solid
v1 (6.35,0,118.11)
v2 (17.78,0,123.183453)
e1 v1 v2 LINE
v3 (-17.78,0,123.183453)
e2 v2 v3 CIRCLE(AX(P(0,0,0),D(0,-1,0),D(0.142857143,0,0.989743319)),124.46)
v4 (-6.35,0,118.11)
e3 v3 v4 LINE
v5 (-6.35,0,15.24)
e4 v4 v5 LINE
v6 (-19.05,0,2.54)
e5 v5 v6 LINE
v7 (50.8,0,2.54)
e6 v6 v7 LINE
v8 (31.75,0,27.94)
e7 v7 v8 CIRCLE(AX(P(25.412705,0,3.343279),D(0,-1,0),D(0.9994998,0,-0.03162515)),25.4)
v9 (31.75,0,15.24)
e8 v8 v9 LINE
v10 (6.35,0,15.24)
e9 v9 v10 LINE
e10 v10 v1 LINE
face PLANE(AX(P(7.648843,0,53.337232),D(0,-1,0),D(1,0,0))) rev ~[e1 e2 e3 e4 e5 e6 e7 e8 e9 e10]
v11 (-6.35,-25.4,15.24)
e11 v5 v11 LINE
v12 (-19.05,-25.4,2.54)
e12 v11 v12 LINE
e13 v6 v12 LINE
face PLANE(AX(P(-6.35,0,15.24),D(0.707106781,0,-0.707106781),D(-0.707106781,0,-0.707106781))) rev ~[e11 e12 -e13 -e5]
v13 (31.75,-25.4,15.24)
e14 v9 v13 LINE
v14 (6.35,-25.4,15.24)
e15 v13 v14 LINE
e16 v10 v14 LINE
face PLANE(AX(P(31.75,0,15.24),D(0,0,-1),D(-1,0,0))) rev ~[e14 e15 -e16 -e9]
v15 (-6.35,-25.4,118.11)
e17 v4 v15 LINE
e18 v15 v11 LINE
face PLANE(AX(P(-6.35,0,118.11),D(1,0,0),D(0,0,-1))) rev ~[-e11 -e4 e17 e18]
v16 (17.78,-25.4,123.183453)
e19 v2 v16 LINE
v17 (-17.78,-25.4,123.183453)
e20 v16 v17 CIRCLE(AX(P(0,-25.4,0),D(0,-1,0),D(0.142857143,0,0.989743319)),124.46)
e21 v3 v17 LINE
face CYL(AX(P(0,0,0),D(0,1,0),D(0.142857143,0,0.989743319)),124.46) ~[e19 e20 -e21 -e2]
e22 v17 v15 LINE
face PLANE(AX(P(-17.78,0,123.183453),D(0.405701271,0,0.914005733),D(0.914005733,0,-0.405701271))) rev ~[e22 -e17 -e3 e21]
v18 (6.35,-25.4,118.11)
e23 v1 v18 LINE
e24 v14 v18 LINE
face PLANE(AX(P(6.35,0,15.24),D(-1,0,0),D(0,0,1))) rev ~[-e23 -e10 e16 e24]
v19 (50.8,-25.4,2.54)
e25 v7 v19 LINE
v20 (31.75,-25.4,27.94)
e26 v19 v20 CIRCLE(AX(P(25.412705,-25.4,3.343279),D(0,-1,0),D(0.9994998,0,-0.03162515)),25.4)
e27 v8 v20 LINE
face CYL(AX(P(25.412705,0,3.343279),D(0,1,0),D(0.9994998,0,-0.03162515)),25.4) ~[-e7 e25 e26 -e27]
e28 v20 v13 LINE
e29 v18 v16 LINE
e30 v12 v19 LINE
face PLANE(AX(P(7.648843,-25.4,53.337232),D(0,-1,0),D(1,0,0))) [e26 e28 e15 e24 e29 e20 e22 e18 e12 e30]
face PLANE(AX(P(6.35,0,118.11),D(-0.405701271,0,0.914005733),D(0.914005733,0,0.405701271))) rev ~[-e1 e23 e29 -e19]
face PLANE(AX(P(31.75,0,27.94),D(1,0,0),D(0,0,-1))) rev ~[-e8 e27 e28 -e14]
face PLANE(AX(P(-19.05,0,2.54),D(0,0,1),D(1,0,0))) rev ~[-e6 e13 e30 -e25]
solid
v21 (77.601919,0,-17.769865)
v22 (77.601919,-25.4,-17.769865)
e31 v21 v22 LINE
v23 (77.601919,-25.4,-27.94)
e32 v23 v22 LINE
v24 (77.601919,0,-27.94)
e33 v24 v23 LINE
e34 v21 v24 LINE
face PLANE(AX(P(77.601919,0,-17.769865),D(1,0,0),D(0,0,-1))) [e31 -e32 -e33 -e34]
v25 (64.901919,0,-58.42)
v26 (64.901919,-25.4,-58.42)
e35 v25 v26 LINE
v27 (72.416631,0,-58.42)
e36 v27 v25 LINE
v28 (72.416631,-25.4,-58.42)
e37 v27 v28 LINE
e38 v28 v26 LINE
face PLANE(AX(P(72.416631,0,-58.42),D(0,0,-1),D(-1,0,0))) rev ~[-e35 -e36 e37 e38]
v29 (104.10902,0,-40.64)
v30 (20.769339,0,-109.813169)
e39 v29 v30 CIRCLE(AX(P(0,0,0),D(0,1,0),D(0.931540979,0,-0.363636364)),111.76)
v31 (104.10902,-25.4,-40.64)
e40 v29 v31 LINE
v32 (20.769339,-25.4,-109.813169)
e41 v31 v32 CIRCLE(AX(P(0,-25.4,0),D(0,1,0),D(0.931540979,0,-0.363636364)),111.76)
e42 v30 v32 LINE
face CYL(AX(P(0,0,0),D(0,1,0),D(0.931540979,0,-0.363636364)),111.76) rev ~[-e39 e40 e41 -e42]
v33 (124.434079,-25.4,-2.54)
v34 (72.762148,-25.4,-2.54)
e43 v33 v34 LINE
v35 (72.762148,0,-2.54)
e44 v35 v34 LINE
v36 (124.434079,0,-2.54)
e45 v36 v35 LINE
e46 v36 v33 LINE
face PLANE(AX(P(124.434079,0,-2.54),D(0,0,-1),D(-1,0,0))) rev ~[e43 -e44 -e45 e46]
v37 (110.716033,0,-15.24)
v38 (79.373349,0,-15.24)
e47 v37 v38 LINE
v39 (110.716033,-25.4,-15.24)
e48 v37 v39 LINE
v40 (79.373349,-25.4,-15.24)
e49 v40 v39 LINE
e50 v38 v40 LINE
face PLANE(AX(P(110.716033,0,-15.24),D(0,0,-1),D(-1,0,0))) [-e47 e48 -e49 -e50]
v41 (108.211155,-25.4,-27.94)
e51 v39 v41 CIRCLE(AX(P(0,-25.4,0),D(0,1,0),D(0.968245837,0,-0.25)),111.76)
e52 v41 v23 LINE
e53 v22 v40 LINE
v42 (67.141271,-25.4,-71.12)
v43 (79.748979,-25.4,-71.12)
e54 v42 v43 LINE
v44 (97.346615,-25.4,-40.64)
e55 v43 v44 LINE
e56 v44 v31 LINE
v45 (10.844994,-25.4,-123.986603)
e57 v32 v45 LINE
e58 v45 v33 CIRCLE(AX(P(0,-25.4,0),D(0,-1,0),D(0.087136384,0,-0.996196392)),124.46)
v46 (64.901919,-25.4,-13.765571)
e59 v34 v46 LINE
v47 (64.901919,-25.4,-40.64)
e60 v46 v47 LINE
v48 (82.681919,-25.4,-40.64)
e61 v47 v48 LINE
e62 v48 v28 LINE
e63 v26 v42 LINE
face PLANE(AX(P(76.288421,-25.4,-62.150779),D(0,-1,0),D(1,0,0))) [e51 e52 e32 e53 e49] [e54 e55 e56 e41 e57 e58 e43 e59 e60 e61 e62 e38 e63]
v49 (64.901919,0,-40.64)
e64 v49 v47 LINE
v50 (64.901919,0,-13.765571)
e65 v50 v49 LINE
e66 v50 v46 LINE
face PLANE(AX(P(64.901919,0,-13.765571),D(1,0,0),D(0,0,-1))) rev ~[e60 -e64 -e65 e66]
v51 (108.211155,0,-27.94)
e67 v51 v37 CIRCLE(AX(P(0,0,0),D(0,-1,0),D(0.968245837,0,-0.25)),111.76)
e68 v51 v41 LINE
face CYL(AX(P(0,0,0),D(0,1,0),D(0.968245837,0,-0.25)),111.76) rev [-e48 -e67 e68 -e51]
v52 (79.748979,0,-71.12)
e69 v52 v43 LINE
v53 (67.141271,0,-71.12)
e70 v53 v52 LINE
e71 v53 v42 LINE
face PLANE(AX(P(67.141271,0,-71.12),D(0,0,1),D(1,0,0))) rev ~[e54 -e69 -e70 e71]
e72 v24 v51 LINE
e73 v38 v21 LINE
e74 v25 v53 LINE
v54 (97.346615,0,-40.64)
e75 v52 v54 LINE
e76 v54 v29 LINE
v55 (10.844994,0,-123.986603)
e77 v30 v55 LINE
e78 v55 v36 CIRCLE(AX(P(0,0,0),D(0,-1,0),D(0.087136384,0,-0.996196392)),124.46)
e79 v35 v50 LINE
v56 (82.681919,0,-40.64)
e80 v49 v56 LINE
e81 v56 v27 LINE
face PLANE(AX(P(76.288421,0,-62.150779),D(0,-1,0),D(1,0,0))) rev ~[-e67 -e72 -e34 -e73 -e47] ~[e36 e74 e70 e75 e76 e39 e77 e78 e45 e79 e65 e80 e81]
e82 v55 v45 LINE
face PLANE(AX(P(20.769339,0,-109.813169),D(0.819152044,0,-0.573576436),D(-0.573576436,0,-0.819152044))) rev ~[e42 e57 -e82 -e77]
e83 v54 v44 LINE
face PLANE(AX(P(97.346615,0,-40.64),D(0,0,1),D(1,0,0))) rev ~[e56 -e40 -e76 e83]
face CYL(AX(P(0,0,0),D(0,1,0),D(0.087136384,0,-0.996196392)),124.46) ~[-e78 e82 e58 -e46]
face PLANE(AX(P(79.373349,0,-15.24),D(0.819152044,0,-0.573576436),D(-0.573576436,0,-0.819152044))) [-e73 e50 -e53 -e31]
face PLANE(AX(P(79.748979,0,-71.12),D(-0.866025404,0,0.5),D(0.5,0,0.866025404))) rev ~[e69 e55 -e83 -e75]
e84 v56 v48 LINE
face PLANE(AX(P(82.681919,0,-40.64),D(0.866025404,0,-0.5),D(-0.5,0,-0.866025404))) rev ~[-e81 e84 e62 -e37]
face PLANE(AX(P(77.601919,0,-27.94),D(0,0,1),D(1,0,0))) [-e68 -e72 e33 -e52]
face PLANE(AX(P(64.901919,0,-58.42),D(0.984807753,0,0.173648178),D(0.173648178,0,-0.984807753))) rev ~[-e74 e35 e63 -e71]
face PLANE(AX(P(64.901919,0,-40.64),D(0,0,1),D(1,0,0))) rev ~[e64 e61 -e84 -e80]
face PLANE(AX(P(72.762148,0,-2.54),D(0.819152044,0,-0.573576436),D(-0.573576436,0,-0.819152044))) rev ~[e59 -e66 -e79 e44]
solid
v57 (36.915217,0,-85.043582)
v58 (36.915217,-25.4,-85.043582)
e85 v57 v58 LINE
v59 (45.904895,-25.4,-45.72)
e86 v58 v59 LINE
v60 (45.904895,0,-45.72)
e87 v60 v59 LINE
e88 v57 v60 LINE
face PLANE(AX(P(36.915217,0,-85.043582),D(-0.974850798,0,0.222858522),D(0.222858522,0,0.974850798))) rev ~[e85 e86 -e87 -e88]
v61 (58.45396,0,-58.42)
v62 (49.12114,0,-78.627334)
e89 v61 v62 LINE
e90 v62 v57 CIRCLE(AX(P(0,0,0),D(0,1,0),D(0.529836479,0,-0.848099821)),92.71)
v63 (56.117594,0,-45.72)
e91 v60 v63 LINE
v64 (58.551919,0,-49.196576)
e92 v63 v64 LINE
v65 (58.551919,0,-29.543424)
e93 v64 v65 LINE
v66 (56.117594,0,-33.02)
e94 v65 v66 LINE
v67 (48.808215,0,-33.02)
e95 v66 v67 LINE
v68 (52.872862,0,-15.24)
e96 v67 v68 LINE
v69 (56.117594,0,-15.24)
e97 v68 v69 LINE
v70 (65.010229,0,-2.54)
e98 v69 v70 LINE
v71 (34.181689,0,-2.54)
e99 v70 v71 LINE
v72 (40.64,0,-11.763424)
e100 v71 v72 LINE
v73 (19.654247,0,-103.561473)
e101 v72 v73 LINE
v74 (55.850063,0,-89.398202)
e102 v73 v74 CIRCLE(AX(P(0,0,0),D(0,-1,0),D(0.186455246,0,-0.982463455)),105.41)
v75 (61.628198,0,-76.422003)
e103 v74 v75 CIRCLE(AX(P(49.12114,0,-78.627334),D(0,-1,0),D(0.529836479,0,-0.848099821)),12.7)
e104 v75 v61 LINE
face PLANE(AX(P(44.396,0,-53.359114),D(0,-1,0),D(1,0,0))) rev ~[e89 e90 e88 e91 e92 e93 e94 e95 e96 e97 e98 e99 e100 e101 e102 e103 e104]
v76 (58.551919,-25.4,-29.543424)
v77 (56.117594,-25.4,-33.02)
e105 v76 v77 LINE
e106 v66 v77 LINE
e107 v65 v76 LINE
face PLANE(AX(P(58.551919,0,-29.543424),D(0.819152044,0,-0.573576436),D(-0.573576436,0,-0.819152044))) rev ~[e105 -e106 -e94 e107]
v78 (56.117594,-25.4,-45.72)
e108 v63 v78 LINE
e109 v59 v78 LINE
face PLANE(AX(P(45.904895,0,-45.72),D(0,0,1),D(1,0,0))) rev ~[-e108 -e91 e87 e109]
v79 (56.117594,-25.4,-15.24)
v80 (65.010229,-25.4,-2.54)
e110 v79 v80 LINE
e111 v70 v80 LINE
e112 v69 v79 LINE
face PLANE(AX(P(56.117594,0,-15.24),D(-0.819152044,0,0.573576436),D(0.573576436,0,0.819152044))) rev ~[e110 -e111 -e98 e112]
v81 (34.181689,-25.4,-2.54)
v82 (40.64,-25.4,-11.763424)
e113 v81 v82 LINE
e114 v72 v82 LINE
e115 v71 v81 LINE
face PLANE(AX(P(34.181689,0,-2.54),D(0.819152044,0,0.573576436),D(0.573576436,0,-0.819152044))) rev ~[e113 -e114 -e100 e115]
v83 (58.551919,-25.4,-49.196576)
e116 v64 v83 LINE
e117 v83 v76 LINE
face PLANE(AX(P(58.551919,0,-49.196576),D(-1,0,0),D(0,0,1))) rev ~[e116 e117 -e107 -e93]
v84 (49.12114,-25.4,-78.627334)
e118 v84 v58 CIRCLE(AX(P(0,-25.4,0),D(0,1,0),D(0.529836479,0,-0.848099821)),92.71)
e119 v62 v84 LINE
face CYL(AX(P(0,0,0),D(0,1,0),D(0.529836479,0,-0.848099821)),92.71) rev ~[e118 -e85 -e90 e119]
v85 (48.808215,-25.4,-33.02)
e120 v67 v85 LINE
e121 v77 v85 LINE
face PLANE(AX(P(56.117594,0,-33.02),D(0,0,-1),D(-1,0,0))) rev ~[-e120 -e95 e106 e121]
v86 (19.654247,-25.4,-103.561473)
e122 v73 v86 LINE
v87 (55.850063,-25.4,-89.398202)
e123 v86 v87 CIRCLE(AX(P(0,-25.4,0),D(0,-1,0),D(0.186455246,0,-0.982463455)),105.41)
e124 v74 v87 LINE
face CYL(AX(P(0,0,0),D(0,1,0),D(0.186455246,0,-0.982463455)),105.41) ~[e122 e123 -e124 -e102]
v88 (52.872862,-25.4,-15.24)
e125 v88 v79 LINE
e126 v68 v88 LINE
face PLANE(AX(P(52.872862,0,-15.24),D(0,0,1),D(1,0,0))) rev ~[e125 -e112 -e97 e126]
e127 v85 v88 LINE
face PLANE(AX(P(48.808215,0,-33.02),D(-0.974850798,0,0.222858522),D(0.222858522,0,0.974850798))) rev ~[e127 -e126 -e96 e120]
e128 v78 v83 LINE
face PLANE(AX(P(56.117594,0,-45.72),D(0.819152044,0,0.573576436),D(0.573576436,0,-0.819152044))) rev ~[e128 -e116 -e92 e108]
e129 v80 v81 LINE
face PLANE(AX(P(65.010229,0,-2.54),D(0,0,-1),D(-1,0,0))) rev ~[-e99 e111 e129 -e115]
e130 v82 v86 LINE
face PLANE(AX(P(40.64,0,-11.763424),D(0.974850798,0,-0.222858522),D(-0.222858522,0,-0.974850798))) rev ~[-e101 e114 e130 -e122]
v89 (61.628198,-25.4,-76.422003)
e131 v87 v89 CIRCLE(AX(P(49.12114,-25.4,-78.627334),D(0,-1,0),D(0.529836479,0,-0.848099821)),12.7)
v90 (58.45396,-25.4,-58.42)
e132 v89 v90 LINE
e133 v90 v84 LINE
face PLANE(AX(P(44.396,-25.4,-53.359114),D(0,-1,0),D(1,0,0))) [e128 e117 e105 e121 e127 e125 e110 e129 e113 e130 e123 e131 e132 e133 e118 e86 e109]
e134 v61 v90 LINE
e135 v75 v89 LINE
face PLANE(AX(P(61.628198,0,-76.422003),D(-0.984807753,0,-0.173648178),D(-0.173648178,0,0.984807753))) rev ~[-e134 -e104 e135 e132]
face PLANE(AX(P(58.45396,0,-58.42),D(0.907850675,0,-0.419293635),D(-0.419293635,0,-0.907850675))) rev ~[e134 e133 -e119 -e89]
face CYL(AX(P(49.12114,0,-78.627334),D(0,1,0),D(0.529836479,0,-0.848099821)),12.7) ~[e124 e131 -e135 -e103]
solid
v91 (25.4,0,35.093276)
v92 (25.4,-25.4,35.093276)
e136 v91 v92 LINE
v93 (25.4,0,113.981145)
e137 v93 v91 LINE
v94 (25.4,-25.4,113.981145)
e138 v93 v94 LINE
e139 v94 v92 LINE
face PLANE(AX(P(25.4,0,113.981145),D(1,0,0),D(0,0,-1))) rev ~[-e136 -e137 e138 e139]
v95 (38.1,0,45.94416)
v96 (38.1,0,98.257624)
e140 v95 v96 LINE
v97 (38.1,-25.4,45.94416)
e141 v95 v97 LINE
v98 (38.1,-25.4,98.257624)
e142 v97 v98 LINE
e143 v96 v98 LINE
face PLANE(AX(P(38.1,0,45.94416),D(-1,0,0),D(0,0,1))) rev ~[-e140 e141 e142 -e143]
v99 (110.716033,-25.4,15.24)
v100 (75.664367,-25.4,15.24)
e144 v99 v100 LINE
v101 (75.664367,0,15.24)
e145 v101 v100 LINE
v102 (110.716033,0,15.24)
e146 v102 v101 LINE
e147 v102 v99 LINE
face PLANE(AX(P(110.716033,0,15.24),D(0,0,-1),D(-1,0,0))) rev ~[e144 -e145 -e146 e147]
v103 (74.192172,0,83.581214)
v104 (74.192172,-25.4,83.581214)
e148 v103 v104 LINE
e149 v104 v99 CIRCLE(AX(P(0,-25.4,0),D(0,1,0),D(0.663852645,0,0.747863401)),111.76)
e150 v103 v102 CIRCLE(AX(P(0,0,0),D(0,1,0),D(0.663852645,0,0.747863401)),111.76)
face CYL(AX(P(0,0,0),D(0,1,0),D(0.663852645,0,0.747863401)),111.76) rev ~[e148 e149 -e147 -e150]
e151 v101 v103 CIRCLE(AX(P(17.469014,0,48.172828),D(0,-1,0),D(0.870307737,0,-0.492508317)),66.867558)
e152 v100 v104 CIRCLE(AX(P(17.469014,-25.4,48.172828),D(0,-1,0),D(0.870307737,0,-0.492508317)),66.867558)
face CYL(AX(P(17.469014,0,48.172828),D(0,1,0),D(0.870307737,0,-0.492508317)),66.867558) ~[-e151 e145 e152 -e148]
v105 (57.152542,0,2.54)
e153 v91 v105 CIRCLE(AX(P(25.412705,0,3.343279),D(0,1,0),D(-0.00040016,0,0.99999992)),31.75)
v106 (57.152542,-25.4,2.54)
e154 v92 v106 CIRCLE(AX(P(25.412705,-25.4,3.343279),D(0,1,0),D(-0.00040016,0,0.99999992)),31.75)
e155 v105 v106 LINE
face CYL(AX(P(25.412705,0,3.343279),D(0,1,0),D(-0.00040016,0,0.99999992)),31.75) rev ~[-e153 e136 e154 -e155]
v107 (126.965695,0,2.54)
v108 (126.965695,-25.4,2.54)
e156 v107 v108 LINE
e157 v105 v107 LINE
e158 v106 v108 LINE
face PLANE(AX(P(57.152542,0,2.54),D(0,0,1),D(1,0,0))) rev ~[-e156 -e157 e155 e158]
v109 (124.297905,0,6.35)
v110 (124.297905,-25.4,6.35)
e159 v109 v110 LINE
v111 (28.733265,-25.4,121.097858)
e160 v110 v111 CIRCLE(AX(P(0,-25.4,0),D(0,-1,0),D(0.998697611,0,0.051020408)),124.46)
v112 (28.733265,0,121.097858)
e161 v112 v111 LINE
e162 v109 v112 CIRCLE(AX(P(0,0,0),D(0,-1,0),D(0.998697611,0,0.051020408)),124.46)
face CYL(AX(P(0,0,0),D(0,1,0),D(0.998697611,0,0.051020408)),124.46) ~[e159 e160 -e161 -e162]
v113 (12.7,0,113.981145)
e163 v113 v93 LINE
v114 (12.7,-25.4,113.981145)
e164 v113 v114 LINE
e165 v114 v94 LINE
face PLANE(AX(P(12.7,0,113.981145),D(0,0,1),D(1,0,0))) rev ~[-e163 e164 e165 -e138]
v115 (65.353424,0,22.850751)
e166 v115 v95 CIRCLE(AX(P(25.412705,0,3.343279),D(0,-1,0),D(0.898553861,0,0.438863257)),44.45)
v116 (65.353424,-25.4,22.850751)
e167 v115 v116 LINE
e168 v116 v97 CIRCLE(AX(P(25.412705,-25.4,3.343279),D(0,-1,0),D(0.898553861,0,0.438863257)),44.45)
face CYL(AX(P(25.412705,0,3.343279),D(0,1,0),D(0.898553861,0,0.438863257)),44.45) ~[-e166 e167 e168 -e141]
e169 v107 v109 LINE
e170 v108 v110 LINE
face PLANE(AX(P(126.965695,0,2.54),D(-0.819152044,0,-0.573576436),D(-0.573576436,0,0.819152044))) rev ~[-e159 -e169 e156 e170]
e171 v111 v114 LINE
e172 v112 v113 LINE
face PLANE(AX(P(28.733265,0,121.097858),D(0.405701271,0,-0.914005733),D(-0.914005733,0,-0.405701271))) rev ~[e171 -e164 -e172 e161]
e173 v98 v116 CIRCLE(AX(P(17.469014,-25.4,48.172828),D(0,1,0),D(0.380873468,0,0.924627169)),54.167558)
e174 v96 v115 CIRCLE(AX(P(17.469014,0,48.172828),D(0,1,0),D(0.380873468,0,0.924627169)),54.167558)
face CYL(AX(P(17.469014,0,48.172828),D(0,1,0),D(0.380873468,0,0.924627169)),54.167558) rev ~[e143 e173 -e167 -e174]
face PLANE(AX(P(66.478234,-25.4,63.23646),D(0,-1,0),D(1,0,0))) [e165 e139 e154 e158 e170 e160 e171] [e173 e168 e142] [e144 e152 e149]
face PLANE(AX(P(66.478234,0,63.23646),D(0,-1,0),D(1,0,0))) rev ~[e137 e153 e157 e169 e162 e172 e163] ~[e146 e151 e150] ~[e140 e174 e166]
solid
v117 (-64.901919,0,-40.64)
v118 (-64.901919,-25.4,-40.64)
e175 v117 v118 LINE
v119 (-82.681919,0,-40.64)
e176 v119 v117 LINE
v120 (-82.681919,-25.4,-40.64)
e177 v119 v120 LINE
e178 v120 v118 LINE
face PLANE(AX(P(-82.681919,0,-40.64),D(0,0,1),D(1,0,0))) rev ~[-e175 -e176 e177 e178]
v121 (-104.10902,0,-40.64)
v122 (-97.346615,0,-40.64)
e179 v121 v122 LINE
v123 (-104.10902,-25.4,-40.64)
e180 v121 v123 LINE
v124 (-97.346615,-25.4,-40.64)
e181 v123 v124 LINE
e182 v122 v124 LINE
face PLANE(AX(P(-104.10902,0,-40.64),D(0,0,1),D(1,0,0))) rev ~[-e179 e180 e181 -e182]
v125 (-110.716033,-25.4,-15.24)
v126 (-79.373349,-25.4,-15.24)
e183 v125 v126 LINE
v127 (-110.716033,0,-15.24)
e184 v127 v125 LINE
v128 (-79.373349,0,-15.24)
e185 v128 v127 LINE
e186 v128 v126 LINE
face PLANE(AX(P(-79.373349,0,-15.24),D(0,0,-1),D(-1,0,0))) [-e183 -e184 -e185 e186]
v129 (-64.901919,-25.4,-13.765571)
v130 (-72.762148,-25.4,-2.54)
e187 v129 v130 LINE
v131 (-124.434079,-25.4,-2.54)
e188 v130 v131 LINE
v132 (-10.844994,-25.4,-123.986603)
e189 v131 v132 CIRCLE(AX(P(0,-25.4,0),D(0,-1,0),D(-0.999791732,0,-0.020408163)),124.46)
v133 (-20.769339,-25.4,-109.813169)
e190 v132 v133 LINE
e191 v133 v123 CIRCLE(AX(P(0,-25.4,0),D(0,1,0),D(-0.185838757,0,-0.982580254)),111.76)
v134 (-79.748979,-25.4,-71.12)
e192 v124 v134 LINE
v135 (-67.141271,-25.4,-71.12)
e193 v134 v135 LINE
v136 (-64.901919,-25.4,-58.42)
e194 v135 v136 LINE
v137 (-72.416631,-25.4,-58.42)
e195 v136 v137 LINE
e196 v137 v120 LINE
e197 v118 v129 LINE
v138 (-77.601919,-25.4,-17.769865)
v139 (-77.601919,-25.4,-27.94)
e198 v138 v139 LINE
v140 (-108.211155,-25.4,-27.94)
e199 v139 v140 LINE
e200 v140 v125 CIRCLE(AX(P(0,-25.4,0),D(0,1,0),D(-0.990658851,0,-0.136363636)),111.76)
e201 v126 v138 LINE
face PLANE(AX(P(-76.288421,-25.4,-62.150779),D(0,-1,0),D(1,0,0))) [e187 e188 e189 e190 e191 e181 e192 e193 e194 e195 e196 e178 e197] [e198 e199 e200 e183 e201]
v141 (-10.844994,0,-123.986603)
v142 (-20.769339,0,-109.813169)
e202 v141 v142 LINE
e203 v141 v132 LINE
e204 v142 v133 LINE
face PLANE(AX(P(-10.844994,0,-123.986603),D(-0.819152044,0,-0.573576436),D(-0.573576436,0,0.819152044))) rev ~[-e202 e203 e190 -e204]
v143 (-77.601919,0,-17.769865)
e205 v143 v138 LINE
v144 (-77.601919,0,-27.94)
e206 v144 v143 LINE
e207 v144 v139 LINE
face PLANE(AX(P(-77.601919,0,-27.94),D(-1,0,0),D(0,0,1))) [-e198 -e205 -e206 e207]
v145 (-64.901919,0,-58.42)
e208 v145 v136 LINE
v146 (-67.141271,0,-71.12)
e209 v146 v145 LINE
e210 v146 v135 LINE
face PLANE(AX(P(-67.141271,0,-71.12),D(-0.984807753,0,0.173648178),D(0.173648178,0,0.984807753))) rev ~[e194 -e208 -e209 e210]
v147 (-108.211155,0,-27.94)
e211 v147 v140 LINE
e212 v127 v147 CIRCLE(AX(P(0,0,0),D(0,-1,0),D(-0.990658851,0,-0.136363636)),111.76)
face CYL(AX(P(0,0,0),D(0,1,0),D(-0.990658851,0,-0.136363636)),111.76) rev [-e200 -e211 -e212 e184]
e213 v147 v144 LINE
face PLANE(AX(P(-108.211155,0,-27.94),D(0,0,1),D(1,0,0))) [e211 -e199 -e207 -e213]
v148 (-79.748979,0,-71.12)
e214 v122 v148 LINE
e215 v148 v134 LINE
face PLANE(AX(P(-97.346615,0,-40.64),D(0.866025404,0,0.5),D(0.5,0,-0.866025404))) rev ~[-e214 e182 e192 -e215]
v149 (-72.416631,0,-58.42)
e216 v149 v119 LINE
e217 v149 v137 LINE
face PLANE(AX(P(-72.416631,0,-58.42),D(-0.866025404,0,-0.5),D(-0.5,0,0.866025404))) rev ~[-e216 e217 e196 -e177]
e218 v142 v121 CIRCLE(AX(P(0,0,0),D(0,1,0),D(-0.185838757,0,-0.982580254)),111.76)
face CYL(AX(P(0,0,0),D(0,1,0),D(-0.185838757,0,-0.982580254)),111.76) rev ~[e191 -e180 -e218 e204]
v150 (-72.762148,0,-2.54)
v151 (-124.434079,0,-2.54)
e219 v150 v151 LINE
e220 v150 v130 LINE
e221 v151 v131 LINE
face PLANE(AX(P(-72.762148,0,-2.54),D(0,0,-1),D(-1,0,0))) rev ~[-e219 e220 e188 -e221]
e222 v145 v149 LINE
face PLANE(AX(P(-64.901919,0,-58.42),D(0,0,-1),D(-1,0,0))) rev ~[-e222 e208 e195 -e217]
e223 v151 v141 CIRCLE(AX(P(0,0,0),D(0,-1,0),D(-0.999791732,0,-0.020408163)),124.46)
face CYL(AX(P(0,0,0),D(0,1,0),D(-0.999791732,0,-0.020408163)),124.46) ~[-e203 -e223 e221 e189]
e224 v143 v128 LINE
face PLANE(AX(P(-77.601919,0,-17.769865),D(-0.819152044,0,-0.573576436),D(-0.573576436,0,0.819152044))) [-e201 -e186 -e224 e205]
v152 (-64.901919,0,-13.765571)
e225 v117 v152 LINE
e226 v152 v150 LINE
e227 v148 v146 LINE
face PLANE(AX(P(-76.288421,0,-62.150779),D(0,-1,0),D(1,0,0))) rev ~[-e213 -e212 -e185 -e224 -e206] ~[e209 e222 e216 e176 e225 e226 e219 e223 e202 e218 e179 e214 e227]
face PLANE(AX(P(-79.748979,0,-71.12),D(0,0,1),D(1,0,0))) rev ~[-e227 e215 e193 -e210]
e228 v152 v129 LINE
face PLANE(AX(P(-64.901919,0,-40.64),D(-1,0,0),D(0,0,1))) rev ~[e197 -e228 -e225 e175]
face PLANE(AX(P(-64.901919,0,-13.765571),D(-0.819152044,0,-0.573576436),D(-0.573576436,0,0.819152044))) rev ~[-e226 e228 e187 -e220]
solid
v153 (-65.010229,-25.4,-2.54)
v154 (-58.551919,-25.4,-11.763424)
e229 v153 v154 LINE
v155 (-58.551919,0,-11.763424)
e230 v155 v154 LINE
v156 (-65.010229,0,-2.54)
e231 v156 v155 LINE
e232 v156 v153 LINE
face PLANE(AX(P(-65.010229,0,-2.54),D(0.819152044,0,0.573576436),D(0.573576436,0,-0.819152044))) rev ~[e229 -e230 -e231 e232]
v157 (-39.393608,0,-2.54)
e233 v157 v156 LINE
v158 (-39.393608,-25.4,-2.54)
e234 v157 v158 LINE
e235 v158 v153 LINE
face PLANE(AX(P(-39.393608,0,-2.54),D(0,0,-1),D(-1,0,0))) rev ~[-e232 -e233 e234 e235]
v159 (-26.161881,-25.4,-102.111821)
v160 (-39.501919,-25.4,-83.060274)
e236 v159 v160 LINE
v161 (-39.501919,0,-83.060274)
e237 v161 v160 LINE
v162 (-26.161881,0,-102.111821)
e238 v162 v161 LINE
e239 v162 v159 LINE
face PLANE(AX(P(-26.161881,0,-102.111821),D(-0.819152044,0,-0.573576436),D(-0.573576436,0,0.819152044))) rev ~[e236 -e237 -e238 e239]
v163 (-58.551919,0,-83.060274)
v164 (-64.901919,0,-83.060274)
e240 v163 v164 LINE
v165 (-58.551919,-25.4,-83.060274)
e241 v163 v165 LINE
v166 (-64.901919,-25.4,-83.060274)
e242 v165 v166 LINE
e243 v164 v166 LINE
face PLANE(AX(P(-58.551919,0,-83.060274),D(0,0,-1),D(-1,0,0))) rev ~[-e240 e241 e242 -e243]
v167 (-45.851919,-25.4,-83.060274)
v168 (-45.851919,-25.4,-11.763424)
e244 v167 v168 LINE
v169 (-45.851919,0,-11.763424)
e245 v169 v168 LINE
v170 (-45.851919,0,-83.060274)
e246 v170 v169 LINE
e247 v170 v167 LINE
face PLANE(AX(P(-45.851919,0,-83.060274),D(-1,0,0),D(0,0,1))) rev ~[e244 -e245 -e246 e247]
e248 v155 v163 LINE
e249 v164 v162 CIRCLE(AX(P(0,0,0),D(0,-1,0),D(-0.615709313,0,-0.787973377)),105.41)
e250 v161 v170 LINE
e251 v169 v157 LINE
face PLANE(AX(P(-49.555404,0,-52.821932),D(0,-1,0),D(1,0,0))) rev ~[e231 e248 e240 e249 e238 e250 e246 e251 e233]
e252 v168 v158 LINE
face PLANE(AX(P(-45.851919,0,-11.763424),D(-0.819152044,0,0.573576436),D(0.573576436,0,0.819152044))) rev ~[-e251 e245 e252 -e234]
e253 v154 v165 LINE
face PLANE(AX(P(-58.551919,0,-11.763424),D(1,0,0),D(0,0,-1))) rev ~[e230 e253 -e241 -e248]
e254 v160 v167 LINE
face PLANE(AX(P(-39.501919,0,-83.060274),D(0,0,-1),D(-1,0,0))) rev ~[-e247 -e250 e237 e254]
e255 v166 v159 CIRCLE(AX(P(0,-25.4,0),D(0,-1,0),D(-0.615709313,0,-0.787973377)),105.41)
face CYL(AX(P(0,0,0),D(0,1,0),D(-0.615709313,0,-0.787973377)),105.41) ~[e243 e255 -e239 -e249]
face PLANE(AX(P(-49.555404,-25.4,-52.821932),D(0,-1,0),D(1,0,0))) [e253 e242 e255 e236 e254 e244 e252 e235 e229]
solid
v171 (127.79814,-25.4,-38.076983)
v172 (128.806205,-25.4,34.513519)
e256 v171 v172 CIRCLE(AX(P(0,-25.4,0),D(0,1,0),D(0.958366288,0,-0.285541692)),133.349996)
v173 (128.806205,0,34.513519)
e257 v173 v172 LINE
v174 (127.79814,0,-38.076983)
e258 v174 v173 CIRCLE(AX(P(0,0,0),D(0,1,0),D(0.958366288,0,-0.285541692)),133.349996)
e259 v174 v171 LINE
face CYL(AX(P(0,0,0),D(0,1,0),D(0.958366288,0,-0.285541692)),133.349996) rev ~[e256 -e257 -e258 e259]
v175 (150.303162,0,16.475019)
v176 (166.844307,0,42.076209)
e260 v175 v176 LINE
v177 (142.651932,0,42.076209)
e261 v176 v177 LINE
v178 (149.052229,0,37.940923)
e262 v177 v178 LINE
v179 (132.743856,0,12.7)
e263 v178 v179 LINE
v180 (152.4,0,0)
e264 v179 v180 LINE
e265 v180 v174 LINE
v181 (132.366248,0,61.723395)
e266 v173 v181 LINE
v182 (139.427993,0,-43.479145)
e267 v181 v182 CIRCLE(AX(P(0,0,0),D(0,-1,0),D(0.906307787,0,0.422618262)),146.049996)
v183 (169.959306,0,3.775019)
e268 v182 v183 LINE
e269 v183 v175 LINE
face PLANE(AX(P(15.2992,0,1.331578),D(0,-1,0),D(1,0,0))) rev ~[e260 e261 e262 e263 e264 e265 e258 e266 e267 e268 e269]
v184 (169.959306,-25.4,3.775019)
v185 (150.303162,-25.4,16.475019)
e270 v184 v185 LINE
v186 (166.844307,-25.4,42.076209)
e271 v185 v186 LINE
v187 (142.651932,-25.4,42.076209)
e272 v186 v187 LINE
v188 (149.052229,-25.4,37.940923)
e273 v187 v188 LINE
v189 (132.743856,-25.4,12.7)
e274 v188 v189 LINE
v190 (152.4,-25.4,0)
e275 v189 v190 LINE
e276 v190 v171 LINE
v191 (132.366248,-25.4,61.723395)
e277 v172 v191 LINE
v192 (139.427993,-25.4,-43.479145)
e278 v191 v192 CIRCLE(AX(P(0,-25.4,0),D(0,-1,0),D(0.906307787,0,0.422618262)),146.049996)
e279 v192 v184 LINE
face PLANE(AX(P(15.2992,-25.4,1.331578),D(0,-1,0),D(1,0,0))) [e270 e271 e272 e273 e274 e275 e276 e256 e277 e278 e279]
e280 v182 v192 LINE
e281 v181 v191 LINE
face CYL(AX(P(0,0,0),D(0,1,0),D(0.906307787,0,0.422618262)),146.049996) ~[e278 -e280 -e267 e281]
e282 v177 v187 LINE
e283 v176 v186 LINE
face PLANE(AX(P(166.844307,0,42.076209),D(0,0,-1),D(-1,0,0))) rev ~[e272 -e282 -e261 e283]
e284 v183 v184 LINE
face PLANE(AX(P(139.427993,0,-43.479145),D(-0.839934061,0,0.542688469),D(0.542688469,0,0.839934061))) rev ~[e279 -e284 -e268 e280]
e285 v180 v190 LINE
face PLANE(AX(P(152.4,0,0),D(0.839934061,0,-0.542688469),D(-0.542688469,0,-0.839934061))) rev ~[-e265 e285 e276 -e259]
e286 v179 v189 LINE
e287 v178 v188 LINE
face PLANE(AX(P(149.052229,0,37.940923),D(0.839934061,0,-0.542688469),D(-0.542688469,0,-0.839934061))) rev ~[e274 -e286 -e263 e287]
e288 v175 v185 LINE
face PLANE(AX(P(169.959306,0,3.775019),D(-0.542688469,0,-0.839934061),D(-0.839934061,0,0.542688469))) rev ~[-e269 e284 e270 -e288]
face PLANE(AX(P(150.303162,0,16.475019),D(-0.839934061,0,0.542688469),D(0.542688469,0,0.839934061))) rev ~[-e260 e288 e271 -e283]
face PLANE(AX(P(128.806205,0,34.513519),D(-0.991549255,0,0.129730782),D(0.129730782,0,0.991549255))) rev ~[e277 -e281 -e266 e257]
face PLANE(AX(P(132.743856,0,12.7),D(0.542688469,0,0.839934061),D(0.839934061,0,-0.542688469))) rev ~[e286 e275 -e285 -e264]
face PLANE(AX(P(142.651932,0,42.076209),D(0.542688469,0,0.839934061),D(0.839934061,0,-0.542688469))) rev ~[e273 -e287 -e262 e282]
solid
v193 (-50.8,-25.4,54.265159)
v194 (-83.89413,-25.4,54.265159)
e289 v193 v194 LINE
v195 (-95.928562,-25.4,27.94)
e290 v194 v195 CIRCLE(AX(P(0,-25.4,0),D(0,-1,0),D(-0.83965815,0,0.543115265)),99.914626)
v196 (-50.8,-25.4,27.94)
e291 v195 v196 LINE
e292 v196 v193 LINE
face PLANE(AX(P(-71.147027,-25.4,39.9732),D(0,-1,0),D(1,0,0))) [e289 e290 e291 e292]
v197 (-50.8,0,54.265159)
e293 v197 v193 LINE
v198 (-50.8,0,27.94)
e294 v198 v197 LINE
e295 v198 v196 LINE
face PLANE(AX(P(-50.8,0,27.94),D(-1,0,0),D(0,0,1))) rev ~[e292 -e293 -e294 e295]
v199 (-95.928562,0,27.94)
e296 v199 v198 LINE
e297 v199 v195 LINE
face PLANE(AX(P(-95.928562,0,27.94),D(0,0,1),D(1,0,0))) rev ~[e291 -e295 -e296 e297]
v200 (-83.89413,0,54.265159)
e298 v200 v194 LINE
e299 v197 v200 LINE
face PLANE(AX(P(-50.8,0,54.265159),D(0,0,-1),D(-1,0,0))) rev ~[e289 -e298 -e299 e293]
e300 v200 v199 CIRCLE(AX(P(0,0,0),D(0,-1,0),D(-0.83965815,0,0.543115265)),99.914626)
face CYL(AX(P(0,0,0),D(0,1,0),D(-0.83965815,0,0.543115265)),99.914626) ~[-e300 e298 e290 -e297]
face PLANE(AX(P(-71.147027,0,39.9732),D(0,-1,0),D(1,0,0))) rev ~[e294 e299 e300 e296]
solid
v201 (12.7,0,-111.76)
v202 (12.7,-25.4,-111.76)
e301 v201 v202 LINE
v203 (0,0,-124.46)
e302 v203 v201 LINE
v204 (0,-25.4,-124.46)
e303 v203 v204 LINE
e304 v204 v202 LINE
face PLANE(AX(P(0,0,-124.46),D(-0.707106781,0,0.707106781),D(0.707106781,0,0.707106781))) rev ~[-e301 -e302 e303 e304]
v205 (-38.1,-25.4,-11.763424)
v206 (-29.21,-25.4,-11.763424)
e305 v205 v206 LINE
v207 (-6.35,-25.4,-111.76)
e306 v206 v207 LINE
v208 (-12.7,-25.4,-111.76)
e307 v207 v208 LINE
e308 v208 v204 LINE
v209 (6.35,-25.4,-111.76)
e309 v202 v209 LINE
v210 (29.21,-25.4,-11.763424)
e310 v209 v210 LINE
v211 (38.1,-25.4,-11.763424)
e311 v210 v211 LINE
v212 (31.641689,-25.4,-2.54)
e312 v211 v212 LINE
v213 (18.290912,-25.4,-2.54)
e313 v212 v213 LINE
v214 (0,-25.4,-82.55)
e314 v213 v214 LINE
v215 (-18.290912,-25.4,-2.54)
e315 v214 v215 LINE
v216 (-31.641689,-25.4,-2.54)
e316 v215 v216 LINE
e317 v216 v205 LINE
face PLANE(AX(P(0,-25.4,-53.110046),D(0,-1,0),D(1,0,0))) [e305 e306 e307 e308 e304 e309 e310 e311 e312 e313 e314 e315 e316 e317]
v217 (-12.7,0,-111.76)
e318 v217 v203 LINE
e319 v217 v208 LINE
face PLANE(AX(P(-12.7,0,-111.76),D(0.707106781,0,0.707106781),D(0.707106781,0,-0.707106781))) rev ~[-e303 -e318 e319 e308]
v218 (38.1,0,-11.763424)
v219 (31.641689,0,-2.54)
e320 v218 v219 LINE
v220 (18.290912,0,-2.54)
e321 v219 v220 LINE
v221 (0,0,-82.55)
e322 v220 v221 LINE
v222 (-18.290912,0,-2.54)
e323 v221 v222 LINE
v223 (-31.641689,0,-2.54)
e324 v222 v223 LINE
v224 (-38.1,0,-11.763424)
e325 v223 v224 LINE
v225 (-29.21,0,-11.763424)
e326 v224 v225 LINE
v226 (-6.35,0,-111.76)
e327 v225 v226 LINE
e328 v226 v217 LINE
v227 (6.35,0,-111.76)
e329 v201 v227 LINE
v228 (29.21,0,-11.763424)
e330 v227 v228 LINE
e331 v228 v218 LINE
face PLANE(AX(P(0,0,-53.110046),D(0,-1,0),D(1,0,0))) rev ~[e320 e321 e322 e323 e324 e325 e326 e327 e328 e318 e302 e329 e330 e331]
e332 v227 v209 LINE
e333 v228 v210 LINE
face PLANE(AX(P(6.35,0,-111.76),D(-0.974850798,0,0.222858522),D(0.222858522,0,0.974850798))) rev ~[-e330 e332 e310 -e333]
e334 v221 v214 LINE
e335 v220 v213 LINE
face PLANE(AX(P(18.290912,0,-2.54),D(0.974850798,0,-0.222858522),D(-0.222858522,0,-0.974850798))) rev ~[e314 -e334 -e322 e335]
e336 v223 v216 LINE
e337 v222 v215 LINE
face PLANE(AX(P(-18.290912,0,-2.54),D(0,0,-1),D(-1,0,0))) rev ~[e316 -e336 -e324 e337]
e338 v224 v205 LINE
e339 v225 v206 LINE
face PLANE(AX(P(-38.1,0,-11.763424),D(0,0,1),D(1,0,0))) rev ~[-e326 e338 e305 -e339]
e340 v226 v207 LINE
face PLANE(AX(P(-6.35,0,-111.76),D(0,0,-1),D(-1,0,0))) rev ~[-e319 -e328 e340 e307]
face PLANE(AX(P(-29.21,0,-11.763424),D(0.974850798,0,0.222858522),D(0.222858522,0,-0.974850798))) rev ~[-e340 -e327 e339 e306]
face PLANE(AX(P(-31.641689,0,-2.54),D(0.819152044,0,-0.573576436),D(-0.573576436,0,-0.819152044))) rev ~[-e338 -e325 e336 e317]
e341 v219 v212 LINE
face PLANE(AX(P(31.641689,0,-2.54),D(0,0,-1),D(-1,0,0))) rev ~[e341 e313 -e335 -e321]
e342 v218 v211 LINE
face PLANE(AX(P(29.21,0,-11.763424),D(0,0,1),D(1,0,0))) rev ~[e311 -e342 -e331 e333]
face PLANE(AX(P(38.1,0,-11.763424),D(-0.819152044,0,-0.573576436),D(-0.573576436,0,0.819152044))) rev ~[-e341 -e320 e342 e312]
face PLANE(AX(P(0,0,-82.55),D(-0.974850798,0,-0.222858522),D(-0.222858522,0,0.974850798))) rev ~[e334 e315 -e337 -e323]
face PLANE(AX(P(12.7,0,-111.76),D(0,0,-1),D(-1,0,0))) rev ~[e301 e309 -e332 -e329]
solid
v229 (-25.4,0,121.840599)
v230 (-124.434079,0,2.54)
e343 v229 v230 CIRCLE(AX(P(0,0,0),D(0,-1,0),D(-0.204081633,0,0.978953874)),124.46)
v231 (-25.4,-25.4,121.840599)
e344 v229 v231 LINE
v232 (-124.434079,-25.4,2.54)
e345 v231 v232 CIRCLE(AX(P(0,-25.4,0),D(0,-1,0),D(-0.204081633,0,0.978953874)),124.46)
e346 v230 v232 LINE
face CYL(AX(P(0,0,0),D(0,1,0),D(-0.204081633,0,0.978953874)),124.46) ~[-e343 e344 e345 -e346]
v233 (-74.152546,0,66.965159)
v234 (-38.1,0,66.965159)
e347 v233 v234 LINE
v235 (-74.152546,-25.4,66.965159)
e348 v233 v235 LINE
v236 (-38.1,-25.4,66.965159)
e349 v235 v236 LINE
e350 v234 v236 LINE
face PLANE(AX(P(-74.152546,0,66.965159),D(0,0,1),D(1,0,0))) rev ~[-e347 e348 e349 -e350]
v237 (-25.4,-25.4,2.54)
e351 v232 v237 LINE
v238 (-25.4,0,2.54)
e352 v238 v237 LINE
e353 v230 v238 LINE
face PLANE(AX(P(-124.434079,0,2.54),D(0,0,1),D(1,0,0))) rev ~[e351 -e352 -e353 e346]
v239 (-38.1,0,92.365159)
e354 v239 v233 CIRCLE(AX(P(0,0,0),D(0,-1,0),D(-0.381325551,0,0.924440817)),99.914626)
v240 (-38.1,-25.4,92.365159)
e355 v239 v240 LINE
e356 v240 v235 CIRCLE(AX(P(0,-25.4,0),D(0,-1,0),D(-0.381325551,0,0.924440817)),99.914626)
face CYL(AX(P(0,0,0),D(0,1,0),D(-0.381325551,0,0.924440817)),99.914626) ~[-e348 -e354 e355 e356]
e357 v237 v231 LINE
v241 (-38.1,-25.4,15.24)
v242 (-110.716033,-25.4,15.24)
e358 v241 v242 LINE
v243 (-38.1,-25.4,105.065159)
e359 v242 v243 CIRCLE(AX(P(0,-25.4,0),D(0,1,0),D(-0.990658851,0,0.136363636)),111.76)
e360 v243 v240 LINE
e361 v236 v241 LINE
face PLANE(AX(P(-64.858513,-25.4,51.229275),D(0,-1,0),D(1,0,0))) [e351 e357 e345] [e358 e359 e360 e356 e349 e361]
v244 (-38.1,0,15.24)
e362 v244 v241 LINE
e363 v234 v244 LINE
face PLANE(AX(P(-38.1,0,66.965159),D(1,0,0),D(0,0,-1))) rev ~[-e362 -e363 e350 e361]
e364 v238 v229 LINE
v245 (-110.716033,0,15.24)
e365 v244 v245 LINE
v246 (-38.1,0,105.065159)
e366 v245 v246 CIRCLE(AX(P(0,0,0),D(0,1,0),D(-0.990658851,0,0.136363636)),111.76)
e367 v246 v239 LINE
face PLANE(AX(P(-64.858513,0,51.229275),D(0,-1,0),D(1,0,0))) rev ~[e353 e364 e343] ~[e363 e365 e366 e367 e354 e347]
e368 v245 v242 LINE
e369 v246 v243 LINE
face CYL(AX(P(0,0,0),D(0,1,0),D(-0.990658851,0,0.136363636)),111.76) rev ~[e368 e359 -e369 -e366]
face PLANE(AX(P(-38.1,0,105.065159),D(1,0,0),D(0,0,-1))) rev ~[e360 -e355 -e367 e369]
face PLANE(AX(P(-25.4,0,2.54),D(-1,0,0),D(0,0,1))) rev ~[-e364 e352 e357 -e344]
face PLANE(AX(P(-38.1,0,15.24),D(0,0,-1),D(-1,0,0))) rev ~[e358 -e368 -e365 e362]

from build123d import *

# Parameters (mm, degrees)
F3_DEPTH  = 25.4
F5_DEPTH  = 25.4
F6_DEPTH  = 25.4
F8_DEPTH  = 25.4
F10_DEPTH = 25.4
F12_DEPTH = 25.401
F14_DEPTH = 25.4
F16_DEPTH = 25.4
F18_DEPTH = 25.4
F20_R     = 84.4927612286
F21_DEPTH = 25.4


with BuildPart() as f3:
    # F1 (on Front) → F3 (new body)
    with BuildSketch(Plane.XZ):
        with BuildLine():
            ThreePointArc((-25.4, 121.8405991449), (-95.7638817172, 79.4957266679), (-124.4340789334, 2.54))
            Line((-124.4340789334, 2.54), (-25.4, 2.54))
            Line((-25.4, 2.54), (-25.4, 121.8405991449))
        make_face()
        with BuildLine():
            ThreePointArc((-110.7160331659, 15.24), (-86.9119826119, 70.2609769251), (-38.1, 105.0651588301))
            Line((-38.1, 105.0651588301), (-38.1, 92.3651588301))
            ThreePointArc((-38.1, 92.3651588301), (-57.5451867422, 81.679153084), (-74.1525459345, 66.9651588301))
            Line((-74.1525459345, 66.9651588301), (-38.1, 66.9651588301))
            Line((-38.1, 66.9651588301), (-38.1, 15.24))
            Line((-38.1, 15.24), (-110.7160331659, 15.24))
        make_face(mode=Mode.SUBTRACT)
    extrude(amount=F3_DEPTH)


with BuildPart() as f3b:
    # F1 (on Front) → F3, piece 2 (new body)
    with BuildSketch(Plane.XZ):
        with BuildLine():
            Line((6.35, 118.11), (17.78, 123.1834534343))
            ThreePointArc((17.78, 123.1834534343), (0, 124.46), (-17.78, 123.1834534343))
            Line((-17.78, 123.1834534343), (-6.35, 118.11))
            Line((-6.35, 118.11), (-6.35, 15.24))
            Line((-6.35, 15.24), (-19.05, 2.54))
            Line((-19.05, 2.54), (50.8, 2.54))
            ThreePointArc((50.8, 2.54), (45.7327050841, 18.5832788131), (31.75, 27.94))
            Line((31.75, 27.94), (31.75, 15.24))
            Line((31.75, 15.24), (6.35, 15.24))
            Line((6.35, 15.24), (6.35, 118.11))
        make_face()
    extrude(amount=F3_DEPTH)


with BuildPart() as f5:
    # F4 (on Front) → F5 (new body)
    with BuildSketch(Plane.XZ):
        with BuildLine():
            Line((-50.8, 27.94), (-50.8, 54.2651588301))
            Line((-50.8, 54.2651588301), (-83.8941303242, 54.2651588301))
            ThreePointArc((-83.8941303242, 54.2651588301), (-90.8697069766, 41.5406899281), (-95.9285617828, 27.94))
            Line((-95.9285617828, 27.94), (-50.8, 27.94))
        make_face()
    extrude(amount=F5_DEPTH)


with BuildPart() as f6:
    # F2 (on Front) → F6 (new body)
    with BuildSketch(Plane.XZ):
        with BuildLine():
            ThreePointArc((25.4, 35.093276271), (48.1411381908, 25.5126457077), (57.1525419322, 2.54))
            Line((57.1525419322, 2.54), (126.965695369, 2.54))
            Line((126.965695369, 2.54), (124.2979046485, 6.35))
            ThreePointArc((124.2979046485, 6.35), (95.636825538, 79.6485354606), (28.7332646793, 121.0978575404))
            Line((28.7332646793, 121.0978575404), (12.7, 113.9811452263))
            Line((12.7, 113.9811452263), (25.4, 113.9811452263))
            Line((25.4, 113.9811452263), (25.4, 35.093276271))
        make_face()
        with BuildLine():
            Line((38.1, 98.2576242415), (38.1, 105.0651588301))
            ThreePointArc((38.1, 105.0651588301), (57.1644375837, 96.0339766735), (74.1921715749, 83.5812136607))
            ThreePointArc((74.1921715749, 83.5812136607), (98.5666851237, 52.677378292), (110.7160331659, 15.24))
            Line((110.7160331659, 15.24), (75.6643674018, 15.24))
            Line((75.6643674018, 15.24), (68.2410896555, 15.24))
            ThreePointArc((68.2410896555, 15.24), (66.9718438263, 19.1116169311), (65.3534242126, 22.8507505995))
            ThreePointArc((65.3534242126, 22.8507505995), (54.1486294803, 37.2556533847), (38.1, 45.9441596457))
            Line((38.1, 45.9441596457), (38.1, 98.2576242415))
        make_face(mode=Mode.SUBTRACT)
    extrude(amount=F6_DEPTH)

    # F7 (on Front) → F8 (join)
    with BuildSketch(Plane.XZ):
        with BuildLine():
            ThreePointArc((38.1, 98.2576242415), (68.4115211867, 66.5843827835), (65.3534242126, 22.8507505995))
            ThreePointArc((65.3534242126, 22.8507505995), (66.9718438263, 19.1116169311), (68.2410896555, 15.24))
            Line((68.2410896555, 15.24), (75.6643674018, 15.24))
            ThreePointArc((75.6643674018, 15.24), (84.3210627234, 49.6129449257), (74.1921715749, 83.5812136607))
            ThreePointArc((74.1921715749, 83.5812136607), (57.1644375837, 96.0339766735), (38.1, 105.0651588301))
            Line((38.1, 105.0651588301), (38.1, 98.2576242415))
        make_face()
    extrude(amount=F8_DEPTH)


with BuildPart() as f10:
    # F9 (on Front) → F10 (new body)
    with BuildSketch(Plane.XZ):
        Polygon((-18.2909121905, -2.54), (-31.6416893331, -2.54), (-38.1, -11.7634235059), (-29.21, -11.7634235059), (-6.35, -111.76), (-12.7, -111.76), (0, -124.46), (12.7, -111.76), (6.35, -111.76), (29.21, -11.7634235059), (38.1, -11.7634235059), (31.6416893331, -2.54), (18.2909121905, -2.54), (0, -82.55), align=None)
    extrude(amount=F10_DEPTH)


with BuildPart() as f10b:
    # F9 (on Front) → F10, piece 2 (new body)
    with BuildSketch(Plane.XZ):
        with BuildLine():
            Line((-39.3936079717, -2.54), (-65.0102293056, -2.54))
            Line((-65.0102293056, -2.54), (-58.5519186386, -11.7634235059))
            Line((-58.5519186386, -11.7634235059), (-58.5519186386, -83.0602736392))
            Line((-58.5519186386, -83.0602736392), (-64.9019186386, -83.0602736392))
            ThreePointArc((-64.9019186386, -83.0602736392), (-46.5176770944, -94.5905588193), (-26.1618812897, -102.111821389))
            Line((-26.1618812897, -102.111821389), (-39.5019186386, -83.0602736392))
            Line((-39.5019186386, -83.0602736392), (-45.8519186386, -83.0602736392))
            Line((-45.8519186386, -83.0602736392), (-45.8519186386, -11.7634235059))
            Line((-45.8519186386, -11.7634235059), (-39.3936079717, -2.54))
        make_face()
    extrude(amount=F10_DEPTH)


with BuildPart() as f10c:
    # F9 (on Front) → F10, piece 3 (new body)
    with BuildSketch(Plane.XZ):
        with BuildLine():
            Line((-72.7621479442, -2.54), (-124.4340789334, -2.54))
            ThreePointArc((-124.4340789334, -2.54), (-90.8978891831, -85.0168532825), (-10.8449943843, -123.9866028924))
            Line((-10.8449943843, -123.9866028924), (-20.7693394721, -109.8131692371))
            ThreePointArc((-20.7693394721, -109.8131692371), (-71.3784490451, -85.9965965136), (-104.1090197821, -40.64))
            Line((-104.1090197821, -40.64), (-97.3466154761, -40.64))
            Line((-97.3466154761, -40.64), (-79.7489792712, -71.12))
            Line((-79.7489792712, -71.12), (-67.1412712936, -71.12))
            Line((-67.1412712936, -71.12), (-64.9019186386, -58.42))
            Line((-64.9019186386, -58.42), (-72.4166308524, -58.42))
            Line((-72.4166308524, -58.42), (-82.6819186386, -40.64))
            Line((-82.6819186386, -40.64), (-64.9019186386, -40.64))
            Line((-64.9019186386, -40.64), (-64.9019186386, -13.7655708153))
            Line((-64.9019186386, -13.7655708153), (-72.7621479442, -2.54))
        make_face()
    extrude(amount=F10_DEPTH)


with BuildPart() as f10d:
    # F9 (on Front) → F10, piece 4 (new body)
    with BuildSketch(Plane.XZ):
        with BuildLine():
            ThreePointArc((10.8449943843, -123.9866028924), (90.8978891831, -85.0168532825), (124.4340789334, -2.54))
            Line((124.4340789334, -2.54), (72.7621479442, -2.54))
            Line((72.7621479442, -2.54), (64.9019186386, -13.7655708153))
            Line((64.9019186386, -13.7655708153), (64.9019186386, -40.64))
            Line((64.9019186386, -40.64), (82.6819186386, -40.64))
            Line((82.6819186386, -40.64), (72.4166308524, -58.42))
            Line((72.4166308524, -58.42), (64.9019186386, -58.42))
            Line((64.9019186386, -58.42), (67.1412712936, -71.12))
            Line((67.1412712936, -71.12), (79.7489792712, -71.12))
            Line((79.7489792712, -71.12), (97.3466154761, -40.64))
            Line((97.3466154761, -40.64), (104.1090197821, -40.64))
            ThreePointArc((104.1090197821, -40.64), (71.3784490451, -85.9965965136), (20.7693394721, -109.8131692371))
            Line((20.7693394721, -109.8131692371), (10.8449943843, -123.9866028924))
        make_face()
    extrude(amount=F10_DEPTH)


with BuildPart() as f12_tool:
    # F11 (on Front) → F12 (new body, through all)
    with BuildSketch(Plane.XZ):
        with BuildLine():
            Line((-108.211154693, -27.94), (-77.6019186386, -27.94))
            Line((-77.6019186386, -27.94), (-77.6019186386, -17.769865434))
            Line((-77.6019186386, -17.769865434), (-79.3733494862, -15.24))
            Line((-79.3733494862, -15.24), (-110.7160331659, -15.24))
            ThreePointArc((-110.7160331659, -15.24), (-109.6476214788, -21.6262965864), (-108.211154693, -27.94))
        make_face()
        with BuildLine():
            Line((77.6019186386, -17.769865434), (77.6019186386, -27.94))
            Line((77.6019186386, -27.94), (108.211154693, -27.94))
            ThreePointArc((108.211154693, -27.94), (109.6476214788, -21.6262965864), (110.7160331659, -15.24))
            Line((110.7160331659, -15.24), (79.3733494862, -15.24))
            Line((79.3733494862, -15.24), (77.6019186386, -17.769865434))
        make_face()
    extrude(amount=F12_DEPTH)


with BuildPart() as f10c_1:
    add(f10c.part)

    # F12: cut by f12_tool
    add(f12_tool.part, mode=Mode.SUBTRACT)


with BuildPart() as f10d_1:
    add(f10d.part)

    # F12: cut by f12_tool
    add(f12_tool.part, mode=Mode.SUBTRACT)


with BuildPart() as f14:
    # F13 (on Front) → F14 (new body)
    with BuildSketch(Plane.XZ):
        with BuildLine():
            Line((34.1816893331, -2.54), (40.64, -11.7634235059))
            Line((40.64, -11.7634235059), (19.6542474744, -103.5614728372))
            ThreePointArc((19.6542474744, -103.5614728372), (38.4106078171, -98.1625860861), (55.8500632203, -89.3982020976))
            ThreePointArc((55.8500632203, -89.3982020976), (60.7229151187, -83.7934560073), (61.628198404, -76.4220025187))
            Line((61.628198404, -76.4220025187), (58.4539596532, -58.42))
            Line((58.4539596532, -58.42), (49.1211399407, -78.627334375))
            ThreePointArc((49.1211399407, -78.627334375), (43.1376370481, -82.0627099839), (36.9152168202, -85.043582163))
            Line((36.9152168202, -85.043582163), (45.9048954648, -45.72))
            Line((45.9048954648, -45.72), (56.1175935703, -45.72))
            Line((56.1175935703, -45.72), (58.5519186386, -49.1965764941))
            Line((58.5519186386, -49.1965764941), (58.5519186386, -29.5434235059))
            Line((58.5519186386, -29.5434235059), (56.1175935703, -33.02))
            Line((56.1175935703, -33.02), (48.8082148601, -33.02))
            Line((48.8082148601, -33.02), (52.8728620136, -15.24))
            Line((52.8728620136, -15.24), (56.1175935703, -15.24))
            Line((56.1175935703, -15.24), (65.0102293056, -2.54))
            Line((65.0102293056, -2.54), (34.1816893331, -2.54))
        make_face()
    extrude(amount=F14_DEPTH)


with BuildPart() as f16:
    # F15 (on Front) → F16 (new body)
    with BuildSketch(Plane.XZ):
        with BuildLine():
            Line((142.6519315761, 42.0762091864), (149.0522291178, 37.9409230564))
            Line((149.0522291178, 37.9409230564), (132.7438562111, 12.7))
            Line((132.7438562111, 12.7), (152.4, 0))
            Line((152.4, 0), (127.798140427, -38.0769834047))
            ThreePointArc((127.798140427, -38.0769834047), (-133.3371393983, 1.851653012), (128.8062048134, 34.5135185599))
            Line((128.8062048134, 34.5135185599), (132.3662484289, 61.7233953236))
            ThreePointArc((132.3662484289, 61.7233953236), (-145.7220677411, -9.7816269946), (139.4279929117, -43.4791449551))
            Line((139.4279929117, -43.4791449551), (169.9593061196, 3.7750190195))
            Line((169.9593061196, 3.7750190195), (150.3031623308, 16.4750190195))
            Line((150.3031623308, 16.4750190195), (166.8443068509, 42.0762091864))
            Line((166.8443068509, 42.0762091864), (142.6519315761, 42.0762091864))
        make_face()
    extrude(amount=F16_DEPTH)


with BuildPart() as f18:
    # F17 (on Front) → F18 (new body)
    with BuildSketch(Plane.XZ):
        with BuildLine():
            ThreePointArc((-132.3377700257, 128.054424183), (-138.9190287599, 120.8831021137), (-145.1121769137, 113.3740580538))
            Line((-145.1121769137, 113.3740580538), (-140.1082996406, 109.4646006635))
            ThreePointArc((-140.1082996406, 109.4646006635), (-134.1287087082, 116.7147116986), (-127.7743903432, 123.6387463501))
            Line((-127.7743903432, 123.6387463501), (-120.4730041622, 116.5736824385))
            ThreePointArc((-120.4730041622, 116.5736824385), (-124.5244024675, 112.2356510171), (-128.4196871752, 107.7569121446))
            Line((-128.4196871752, 107.7569121446), (-113.8265405338, 95.5118081801))
            ThreePointArc((-113.8265405338, 95.5118081801), (-109.5520363301, 100.3859460664), (-105.0689935988, 105.0689935988))
            Line((-105.0689935988, 105.0689935988), (-109.5591195946, 109.5591195946))
            ThreePointArc((-109.5591195946, 109.5591195946), (-112.0642999001, 106.9952992453), (-114.5094992977, 104.3742111025))
            Line((-114.5094992977, 104.3742111025), (-119.3778151515, 108.4592131398))
            ThreePointArc((-119.3778151515, 108.4592131398), (-116.7469957969, 111.2861295834), (-114.0492517846, 114.0492517846))
            Line((-114.0492517846, 114.0492517846), (-136.4998900225, 136.4998900225))
            ThreePointArc((-136.4998900225, 136.4998900225), (-137.6178439353, 135.3727039803), (-138.726490106, 134.2363620455))
            Line((-138.726490106, 134.2363620455), (-132.3377700257, 128.054424183))
        make_face()
    extrude(amount=F18_DEPTH)

    # F19: F18 across face


with BuildPart() as f18_1:
    add(f18.part)
    add(f18.part.mirror(Plane(origin=(-125.2745709036, -12.7, 125.2745709036), x_dir=(0, 1, 0), z_dir=(0.7071067812, 0, 0.7071067812))))

    # F20 (on Front) → F21 (cut)
    with BuildSketch(Plane.XZ):
        with Locations((-157.50195086, 149.4678705931)):
            Circle(F20_R)
    extrude(amount=F21_DEPTH, mode=Mode.SUBTRACT)


solid = Compound([f3.part, f3b.part, f5.part, f6.part, f10.part, f10b.part, f10c_1.part, f10d_1.part, f14.part, f16.part])
